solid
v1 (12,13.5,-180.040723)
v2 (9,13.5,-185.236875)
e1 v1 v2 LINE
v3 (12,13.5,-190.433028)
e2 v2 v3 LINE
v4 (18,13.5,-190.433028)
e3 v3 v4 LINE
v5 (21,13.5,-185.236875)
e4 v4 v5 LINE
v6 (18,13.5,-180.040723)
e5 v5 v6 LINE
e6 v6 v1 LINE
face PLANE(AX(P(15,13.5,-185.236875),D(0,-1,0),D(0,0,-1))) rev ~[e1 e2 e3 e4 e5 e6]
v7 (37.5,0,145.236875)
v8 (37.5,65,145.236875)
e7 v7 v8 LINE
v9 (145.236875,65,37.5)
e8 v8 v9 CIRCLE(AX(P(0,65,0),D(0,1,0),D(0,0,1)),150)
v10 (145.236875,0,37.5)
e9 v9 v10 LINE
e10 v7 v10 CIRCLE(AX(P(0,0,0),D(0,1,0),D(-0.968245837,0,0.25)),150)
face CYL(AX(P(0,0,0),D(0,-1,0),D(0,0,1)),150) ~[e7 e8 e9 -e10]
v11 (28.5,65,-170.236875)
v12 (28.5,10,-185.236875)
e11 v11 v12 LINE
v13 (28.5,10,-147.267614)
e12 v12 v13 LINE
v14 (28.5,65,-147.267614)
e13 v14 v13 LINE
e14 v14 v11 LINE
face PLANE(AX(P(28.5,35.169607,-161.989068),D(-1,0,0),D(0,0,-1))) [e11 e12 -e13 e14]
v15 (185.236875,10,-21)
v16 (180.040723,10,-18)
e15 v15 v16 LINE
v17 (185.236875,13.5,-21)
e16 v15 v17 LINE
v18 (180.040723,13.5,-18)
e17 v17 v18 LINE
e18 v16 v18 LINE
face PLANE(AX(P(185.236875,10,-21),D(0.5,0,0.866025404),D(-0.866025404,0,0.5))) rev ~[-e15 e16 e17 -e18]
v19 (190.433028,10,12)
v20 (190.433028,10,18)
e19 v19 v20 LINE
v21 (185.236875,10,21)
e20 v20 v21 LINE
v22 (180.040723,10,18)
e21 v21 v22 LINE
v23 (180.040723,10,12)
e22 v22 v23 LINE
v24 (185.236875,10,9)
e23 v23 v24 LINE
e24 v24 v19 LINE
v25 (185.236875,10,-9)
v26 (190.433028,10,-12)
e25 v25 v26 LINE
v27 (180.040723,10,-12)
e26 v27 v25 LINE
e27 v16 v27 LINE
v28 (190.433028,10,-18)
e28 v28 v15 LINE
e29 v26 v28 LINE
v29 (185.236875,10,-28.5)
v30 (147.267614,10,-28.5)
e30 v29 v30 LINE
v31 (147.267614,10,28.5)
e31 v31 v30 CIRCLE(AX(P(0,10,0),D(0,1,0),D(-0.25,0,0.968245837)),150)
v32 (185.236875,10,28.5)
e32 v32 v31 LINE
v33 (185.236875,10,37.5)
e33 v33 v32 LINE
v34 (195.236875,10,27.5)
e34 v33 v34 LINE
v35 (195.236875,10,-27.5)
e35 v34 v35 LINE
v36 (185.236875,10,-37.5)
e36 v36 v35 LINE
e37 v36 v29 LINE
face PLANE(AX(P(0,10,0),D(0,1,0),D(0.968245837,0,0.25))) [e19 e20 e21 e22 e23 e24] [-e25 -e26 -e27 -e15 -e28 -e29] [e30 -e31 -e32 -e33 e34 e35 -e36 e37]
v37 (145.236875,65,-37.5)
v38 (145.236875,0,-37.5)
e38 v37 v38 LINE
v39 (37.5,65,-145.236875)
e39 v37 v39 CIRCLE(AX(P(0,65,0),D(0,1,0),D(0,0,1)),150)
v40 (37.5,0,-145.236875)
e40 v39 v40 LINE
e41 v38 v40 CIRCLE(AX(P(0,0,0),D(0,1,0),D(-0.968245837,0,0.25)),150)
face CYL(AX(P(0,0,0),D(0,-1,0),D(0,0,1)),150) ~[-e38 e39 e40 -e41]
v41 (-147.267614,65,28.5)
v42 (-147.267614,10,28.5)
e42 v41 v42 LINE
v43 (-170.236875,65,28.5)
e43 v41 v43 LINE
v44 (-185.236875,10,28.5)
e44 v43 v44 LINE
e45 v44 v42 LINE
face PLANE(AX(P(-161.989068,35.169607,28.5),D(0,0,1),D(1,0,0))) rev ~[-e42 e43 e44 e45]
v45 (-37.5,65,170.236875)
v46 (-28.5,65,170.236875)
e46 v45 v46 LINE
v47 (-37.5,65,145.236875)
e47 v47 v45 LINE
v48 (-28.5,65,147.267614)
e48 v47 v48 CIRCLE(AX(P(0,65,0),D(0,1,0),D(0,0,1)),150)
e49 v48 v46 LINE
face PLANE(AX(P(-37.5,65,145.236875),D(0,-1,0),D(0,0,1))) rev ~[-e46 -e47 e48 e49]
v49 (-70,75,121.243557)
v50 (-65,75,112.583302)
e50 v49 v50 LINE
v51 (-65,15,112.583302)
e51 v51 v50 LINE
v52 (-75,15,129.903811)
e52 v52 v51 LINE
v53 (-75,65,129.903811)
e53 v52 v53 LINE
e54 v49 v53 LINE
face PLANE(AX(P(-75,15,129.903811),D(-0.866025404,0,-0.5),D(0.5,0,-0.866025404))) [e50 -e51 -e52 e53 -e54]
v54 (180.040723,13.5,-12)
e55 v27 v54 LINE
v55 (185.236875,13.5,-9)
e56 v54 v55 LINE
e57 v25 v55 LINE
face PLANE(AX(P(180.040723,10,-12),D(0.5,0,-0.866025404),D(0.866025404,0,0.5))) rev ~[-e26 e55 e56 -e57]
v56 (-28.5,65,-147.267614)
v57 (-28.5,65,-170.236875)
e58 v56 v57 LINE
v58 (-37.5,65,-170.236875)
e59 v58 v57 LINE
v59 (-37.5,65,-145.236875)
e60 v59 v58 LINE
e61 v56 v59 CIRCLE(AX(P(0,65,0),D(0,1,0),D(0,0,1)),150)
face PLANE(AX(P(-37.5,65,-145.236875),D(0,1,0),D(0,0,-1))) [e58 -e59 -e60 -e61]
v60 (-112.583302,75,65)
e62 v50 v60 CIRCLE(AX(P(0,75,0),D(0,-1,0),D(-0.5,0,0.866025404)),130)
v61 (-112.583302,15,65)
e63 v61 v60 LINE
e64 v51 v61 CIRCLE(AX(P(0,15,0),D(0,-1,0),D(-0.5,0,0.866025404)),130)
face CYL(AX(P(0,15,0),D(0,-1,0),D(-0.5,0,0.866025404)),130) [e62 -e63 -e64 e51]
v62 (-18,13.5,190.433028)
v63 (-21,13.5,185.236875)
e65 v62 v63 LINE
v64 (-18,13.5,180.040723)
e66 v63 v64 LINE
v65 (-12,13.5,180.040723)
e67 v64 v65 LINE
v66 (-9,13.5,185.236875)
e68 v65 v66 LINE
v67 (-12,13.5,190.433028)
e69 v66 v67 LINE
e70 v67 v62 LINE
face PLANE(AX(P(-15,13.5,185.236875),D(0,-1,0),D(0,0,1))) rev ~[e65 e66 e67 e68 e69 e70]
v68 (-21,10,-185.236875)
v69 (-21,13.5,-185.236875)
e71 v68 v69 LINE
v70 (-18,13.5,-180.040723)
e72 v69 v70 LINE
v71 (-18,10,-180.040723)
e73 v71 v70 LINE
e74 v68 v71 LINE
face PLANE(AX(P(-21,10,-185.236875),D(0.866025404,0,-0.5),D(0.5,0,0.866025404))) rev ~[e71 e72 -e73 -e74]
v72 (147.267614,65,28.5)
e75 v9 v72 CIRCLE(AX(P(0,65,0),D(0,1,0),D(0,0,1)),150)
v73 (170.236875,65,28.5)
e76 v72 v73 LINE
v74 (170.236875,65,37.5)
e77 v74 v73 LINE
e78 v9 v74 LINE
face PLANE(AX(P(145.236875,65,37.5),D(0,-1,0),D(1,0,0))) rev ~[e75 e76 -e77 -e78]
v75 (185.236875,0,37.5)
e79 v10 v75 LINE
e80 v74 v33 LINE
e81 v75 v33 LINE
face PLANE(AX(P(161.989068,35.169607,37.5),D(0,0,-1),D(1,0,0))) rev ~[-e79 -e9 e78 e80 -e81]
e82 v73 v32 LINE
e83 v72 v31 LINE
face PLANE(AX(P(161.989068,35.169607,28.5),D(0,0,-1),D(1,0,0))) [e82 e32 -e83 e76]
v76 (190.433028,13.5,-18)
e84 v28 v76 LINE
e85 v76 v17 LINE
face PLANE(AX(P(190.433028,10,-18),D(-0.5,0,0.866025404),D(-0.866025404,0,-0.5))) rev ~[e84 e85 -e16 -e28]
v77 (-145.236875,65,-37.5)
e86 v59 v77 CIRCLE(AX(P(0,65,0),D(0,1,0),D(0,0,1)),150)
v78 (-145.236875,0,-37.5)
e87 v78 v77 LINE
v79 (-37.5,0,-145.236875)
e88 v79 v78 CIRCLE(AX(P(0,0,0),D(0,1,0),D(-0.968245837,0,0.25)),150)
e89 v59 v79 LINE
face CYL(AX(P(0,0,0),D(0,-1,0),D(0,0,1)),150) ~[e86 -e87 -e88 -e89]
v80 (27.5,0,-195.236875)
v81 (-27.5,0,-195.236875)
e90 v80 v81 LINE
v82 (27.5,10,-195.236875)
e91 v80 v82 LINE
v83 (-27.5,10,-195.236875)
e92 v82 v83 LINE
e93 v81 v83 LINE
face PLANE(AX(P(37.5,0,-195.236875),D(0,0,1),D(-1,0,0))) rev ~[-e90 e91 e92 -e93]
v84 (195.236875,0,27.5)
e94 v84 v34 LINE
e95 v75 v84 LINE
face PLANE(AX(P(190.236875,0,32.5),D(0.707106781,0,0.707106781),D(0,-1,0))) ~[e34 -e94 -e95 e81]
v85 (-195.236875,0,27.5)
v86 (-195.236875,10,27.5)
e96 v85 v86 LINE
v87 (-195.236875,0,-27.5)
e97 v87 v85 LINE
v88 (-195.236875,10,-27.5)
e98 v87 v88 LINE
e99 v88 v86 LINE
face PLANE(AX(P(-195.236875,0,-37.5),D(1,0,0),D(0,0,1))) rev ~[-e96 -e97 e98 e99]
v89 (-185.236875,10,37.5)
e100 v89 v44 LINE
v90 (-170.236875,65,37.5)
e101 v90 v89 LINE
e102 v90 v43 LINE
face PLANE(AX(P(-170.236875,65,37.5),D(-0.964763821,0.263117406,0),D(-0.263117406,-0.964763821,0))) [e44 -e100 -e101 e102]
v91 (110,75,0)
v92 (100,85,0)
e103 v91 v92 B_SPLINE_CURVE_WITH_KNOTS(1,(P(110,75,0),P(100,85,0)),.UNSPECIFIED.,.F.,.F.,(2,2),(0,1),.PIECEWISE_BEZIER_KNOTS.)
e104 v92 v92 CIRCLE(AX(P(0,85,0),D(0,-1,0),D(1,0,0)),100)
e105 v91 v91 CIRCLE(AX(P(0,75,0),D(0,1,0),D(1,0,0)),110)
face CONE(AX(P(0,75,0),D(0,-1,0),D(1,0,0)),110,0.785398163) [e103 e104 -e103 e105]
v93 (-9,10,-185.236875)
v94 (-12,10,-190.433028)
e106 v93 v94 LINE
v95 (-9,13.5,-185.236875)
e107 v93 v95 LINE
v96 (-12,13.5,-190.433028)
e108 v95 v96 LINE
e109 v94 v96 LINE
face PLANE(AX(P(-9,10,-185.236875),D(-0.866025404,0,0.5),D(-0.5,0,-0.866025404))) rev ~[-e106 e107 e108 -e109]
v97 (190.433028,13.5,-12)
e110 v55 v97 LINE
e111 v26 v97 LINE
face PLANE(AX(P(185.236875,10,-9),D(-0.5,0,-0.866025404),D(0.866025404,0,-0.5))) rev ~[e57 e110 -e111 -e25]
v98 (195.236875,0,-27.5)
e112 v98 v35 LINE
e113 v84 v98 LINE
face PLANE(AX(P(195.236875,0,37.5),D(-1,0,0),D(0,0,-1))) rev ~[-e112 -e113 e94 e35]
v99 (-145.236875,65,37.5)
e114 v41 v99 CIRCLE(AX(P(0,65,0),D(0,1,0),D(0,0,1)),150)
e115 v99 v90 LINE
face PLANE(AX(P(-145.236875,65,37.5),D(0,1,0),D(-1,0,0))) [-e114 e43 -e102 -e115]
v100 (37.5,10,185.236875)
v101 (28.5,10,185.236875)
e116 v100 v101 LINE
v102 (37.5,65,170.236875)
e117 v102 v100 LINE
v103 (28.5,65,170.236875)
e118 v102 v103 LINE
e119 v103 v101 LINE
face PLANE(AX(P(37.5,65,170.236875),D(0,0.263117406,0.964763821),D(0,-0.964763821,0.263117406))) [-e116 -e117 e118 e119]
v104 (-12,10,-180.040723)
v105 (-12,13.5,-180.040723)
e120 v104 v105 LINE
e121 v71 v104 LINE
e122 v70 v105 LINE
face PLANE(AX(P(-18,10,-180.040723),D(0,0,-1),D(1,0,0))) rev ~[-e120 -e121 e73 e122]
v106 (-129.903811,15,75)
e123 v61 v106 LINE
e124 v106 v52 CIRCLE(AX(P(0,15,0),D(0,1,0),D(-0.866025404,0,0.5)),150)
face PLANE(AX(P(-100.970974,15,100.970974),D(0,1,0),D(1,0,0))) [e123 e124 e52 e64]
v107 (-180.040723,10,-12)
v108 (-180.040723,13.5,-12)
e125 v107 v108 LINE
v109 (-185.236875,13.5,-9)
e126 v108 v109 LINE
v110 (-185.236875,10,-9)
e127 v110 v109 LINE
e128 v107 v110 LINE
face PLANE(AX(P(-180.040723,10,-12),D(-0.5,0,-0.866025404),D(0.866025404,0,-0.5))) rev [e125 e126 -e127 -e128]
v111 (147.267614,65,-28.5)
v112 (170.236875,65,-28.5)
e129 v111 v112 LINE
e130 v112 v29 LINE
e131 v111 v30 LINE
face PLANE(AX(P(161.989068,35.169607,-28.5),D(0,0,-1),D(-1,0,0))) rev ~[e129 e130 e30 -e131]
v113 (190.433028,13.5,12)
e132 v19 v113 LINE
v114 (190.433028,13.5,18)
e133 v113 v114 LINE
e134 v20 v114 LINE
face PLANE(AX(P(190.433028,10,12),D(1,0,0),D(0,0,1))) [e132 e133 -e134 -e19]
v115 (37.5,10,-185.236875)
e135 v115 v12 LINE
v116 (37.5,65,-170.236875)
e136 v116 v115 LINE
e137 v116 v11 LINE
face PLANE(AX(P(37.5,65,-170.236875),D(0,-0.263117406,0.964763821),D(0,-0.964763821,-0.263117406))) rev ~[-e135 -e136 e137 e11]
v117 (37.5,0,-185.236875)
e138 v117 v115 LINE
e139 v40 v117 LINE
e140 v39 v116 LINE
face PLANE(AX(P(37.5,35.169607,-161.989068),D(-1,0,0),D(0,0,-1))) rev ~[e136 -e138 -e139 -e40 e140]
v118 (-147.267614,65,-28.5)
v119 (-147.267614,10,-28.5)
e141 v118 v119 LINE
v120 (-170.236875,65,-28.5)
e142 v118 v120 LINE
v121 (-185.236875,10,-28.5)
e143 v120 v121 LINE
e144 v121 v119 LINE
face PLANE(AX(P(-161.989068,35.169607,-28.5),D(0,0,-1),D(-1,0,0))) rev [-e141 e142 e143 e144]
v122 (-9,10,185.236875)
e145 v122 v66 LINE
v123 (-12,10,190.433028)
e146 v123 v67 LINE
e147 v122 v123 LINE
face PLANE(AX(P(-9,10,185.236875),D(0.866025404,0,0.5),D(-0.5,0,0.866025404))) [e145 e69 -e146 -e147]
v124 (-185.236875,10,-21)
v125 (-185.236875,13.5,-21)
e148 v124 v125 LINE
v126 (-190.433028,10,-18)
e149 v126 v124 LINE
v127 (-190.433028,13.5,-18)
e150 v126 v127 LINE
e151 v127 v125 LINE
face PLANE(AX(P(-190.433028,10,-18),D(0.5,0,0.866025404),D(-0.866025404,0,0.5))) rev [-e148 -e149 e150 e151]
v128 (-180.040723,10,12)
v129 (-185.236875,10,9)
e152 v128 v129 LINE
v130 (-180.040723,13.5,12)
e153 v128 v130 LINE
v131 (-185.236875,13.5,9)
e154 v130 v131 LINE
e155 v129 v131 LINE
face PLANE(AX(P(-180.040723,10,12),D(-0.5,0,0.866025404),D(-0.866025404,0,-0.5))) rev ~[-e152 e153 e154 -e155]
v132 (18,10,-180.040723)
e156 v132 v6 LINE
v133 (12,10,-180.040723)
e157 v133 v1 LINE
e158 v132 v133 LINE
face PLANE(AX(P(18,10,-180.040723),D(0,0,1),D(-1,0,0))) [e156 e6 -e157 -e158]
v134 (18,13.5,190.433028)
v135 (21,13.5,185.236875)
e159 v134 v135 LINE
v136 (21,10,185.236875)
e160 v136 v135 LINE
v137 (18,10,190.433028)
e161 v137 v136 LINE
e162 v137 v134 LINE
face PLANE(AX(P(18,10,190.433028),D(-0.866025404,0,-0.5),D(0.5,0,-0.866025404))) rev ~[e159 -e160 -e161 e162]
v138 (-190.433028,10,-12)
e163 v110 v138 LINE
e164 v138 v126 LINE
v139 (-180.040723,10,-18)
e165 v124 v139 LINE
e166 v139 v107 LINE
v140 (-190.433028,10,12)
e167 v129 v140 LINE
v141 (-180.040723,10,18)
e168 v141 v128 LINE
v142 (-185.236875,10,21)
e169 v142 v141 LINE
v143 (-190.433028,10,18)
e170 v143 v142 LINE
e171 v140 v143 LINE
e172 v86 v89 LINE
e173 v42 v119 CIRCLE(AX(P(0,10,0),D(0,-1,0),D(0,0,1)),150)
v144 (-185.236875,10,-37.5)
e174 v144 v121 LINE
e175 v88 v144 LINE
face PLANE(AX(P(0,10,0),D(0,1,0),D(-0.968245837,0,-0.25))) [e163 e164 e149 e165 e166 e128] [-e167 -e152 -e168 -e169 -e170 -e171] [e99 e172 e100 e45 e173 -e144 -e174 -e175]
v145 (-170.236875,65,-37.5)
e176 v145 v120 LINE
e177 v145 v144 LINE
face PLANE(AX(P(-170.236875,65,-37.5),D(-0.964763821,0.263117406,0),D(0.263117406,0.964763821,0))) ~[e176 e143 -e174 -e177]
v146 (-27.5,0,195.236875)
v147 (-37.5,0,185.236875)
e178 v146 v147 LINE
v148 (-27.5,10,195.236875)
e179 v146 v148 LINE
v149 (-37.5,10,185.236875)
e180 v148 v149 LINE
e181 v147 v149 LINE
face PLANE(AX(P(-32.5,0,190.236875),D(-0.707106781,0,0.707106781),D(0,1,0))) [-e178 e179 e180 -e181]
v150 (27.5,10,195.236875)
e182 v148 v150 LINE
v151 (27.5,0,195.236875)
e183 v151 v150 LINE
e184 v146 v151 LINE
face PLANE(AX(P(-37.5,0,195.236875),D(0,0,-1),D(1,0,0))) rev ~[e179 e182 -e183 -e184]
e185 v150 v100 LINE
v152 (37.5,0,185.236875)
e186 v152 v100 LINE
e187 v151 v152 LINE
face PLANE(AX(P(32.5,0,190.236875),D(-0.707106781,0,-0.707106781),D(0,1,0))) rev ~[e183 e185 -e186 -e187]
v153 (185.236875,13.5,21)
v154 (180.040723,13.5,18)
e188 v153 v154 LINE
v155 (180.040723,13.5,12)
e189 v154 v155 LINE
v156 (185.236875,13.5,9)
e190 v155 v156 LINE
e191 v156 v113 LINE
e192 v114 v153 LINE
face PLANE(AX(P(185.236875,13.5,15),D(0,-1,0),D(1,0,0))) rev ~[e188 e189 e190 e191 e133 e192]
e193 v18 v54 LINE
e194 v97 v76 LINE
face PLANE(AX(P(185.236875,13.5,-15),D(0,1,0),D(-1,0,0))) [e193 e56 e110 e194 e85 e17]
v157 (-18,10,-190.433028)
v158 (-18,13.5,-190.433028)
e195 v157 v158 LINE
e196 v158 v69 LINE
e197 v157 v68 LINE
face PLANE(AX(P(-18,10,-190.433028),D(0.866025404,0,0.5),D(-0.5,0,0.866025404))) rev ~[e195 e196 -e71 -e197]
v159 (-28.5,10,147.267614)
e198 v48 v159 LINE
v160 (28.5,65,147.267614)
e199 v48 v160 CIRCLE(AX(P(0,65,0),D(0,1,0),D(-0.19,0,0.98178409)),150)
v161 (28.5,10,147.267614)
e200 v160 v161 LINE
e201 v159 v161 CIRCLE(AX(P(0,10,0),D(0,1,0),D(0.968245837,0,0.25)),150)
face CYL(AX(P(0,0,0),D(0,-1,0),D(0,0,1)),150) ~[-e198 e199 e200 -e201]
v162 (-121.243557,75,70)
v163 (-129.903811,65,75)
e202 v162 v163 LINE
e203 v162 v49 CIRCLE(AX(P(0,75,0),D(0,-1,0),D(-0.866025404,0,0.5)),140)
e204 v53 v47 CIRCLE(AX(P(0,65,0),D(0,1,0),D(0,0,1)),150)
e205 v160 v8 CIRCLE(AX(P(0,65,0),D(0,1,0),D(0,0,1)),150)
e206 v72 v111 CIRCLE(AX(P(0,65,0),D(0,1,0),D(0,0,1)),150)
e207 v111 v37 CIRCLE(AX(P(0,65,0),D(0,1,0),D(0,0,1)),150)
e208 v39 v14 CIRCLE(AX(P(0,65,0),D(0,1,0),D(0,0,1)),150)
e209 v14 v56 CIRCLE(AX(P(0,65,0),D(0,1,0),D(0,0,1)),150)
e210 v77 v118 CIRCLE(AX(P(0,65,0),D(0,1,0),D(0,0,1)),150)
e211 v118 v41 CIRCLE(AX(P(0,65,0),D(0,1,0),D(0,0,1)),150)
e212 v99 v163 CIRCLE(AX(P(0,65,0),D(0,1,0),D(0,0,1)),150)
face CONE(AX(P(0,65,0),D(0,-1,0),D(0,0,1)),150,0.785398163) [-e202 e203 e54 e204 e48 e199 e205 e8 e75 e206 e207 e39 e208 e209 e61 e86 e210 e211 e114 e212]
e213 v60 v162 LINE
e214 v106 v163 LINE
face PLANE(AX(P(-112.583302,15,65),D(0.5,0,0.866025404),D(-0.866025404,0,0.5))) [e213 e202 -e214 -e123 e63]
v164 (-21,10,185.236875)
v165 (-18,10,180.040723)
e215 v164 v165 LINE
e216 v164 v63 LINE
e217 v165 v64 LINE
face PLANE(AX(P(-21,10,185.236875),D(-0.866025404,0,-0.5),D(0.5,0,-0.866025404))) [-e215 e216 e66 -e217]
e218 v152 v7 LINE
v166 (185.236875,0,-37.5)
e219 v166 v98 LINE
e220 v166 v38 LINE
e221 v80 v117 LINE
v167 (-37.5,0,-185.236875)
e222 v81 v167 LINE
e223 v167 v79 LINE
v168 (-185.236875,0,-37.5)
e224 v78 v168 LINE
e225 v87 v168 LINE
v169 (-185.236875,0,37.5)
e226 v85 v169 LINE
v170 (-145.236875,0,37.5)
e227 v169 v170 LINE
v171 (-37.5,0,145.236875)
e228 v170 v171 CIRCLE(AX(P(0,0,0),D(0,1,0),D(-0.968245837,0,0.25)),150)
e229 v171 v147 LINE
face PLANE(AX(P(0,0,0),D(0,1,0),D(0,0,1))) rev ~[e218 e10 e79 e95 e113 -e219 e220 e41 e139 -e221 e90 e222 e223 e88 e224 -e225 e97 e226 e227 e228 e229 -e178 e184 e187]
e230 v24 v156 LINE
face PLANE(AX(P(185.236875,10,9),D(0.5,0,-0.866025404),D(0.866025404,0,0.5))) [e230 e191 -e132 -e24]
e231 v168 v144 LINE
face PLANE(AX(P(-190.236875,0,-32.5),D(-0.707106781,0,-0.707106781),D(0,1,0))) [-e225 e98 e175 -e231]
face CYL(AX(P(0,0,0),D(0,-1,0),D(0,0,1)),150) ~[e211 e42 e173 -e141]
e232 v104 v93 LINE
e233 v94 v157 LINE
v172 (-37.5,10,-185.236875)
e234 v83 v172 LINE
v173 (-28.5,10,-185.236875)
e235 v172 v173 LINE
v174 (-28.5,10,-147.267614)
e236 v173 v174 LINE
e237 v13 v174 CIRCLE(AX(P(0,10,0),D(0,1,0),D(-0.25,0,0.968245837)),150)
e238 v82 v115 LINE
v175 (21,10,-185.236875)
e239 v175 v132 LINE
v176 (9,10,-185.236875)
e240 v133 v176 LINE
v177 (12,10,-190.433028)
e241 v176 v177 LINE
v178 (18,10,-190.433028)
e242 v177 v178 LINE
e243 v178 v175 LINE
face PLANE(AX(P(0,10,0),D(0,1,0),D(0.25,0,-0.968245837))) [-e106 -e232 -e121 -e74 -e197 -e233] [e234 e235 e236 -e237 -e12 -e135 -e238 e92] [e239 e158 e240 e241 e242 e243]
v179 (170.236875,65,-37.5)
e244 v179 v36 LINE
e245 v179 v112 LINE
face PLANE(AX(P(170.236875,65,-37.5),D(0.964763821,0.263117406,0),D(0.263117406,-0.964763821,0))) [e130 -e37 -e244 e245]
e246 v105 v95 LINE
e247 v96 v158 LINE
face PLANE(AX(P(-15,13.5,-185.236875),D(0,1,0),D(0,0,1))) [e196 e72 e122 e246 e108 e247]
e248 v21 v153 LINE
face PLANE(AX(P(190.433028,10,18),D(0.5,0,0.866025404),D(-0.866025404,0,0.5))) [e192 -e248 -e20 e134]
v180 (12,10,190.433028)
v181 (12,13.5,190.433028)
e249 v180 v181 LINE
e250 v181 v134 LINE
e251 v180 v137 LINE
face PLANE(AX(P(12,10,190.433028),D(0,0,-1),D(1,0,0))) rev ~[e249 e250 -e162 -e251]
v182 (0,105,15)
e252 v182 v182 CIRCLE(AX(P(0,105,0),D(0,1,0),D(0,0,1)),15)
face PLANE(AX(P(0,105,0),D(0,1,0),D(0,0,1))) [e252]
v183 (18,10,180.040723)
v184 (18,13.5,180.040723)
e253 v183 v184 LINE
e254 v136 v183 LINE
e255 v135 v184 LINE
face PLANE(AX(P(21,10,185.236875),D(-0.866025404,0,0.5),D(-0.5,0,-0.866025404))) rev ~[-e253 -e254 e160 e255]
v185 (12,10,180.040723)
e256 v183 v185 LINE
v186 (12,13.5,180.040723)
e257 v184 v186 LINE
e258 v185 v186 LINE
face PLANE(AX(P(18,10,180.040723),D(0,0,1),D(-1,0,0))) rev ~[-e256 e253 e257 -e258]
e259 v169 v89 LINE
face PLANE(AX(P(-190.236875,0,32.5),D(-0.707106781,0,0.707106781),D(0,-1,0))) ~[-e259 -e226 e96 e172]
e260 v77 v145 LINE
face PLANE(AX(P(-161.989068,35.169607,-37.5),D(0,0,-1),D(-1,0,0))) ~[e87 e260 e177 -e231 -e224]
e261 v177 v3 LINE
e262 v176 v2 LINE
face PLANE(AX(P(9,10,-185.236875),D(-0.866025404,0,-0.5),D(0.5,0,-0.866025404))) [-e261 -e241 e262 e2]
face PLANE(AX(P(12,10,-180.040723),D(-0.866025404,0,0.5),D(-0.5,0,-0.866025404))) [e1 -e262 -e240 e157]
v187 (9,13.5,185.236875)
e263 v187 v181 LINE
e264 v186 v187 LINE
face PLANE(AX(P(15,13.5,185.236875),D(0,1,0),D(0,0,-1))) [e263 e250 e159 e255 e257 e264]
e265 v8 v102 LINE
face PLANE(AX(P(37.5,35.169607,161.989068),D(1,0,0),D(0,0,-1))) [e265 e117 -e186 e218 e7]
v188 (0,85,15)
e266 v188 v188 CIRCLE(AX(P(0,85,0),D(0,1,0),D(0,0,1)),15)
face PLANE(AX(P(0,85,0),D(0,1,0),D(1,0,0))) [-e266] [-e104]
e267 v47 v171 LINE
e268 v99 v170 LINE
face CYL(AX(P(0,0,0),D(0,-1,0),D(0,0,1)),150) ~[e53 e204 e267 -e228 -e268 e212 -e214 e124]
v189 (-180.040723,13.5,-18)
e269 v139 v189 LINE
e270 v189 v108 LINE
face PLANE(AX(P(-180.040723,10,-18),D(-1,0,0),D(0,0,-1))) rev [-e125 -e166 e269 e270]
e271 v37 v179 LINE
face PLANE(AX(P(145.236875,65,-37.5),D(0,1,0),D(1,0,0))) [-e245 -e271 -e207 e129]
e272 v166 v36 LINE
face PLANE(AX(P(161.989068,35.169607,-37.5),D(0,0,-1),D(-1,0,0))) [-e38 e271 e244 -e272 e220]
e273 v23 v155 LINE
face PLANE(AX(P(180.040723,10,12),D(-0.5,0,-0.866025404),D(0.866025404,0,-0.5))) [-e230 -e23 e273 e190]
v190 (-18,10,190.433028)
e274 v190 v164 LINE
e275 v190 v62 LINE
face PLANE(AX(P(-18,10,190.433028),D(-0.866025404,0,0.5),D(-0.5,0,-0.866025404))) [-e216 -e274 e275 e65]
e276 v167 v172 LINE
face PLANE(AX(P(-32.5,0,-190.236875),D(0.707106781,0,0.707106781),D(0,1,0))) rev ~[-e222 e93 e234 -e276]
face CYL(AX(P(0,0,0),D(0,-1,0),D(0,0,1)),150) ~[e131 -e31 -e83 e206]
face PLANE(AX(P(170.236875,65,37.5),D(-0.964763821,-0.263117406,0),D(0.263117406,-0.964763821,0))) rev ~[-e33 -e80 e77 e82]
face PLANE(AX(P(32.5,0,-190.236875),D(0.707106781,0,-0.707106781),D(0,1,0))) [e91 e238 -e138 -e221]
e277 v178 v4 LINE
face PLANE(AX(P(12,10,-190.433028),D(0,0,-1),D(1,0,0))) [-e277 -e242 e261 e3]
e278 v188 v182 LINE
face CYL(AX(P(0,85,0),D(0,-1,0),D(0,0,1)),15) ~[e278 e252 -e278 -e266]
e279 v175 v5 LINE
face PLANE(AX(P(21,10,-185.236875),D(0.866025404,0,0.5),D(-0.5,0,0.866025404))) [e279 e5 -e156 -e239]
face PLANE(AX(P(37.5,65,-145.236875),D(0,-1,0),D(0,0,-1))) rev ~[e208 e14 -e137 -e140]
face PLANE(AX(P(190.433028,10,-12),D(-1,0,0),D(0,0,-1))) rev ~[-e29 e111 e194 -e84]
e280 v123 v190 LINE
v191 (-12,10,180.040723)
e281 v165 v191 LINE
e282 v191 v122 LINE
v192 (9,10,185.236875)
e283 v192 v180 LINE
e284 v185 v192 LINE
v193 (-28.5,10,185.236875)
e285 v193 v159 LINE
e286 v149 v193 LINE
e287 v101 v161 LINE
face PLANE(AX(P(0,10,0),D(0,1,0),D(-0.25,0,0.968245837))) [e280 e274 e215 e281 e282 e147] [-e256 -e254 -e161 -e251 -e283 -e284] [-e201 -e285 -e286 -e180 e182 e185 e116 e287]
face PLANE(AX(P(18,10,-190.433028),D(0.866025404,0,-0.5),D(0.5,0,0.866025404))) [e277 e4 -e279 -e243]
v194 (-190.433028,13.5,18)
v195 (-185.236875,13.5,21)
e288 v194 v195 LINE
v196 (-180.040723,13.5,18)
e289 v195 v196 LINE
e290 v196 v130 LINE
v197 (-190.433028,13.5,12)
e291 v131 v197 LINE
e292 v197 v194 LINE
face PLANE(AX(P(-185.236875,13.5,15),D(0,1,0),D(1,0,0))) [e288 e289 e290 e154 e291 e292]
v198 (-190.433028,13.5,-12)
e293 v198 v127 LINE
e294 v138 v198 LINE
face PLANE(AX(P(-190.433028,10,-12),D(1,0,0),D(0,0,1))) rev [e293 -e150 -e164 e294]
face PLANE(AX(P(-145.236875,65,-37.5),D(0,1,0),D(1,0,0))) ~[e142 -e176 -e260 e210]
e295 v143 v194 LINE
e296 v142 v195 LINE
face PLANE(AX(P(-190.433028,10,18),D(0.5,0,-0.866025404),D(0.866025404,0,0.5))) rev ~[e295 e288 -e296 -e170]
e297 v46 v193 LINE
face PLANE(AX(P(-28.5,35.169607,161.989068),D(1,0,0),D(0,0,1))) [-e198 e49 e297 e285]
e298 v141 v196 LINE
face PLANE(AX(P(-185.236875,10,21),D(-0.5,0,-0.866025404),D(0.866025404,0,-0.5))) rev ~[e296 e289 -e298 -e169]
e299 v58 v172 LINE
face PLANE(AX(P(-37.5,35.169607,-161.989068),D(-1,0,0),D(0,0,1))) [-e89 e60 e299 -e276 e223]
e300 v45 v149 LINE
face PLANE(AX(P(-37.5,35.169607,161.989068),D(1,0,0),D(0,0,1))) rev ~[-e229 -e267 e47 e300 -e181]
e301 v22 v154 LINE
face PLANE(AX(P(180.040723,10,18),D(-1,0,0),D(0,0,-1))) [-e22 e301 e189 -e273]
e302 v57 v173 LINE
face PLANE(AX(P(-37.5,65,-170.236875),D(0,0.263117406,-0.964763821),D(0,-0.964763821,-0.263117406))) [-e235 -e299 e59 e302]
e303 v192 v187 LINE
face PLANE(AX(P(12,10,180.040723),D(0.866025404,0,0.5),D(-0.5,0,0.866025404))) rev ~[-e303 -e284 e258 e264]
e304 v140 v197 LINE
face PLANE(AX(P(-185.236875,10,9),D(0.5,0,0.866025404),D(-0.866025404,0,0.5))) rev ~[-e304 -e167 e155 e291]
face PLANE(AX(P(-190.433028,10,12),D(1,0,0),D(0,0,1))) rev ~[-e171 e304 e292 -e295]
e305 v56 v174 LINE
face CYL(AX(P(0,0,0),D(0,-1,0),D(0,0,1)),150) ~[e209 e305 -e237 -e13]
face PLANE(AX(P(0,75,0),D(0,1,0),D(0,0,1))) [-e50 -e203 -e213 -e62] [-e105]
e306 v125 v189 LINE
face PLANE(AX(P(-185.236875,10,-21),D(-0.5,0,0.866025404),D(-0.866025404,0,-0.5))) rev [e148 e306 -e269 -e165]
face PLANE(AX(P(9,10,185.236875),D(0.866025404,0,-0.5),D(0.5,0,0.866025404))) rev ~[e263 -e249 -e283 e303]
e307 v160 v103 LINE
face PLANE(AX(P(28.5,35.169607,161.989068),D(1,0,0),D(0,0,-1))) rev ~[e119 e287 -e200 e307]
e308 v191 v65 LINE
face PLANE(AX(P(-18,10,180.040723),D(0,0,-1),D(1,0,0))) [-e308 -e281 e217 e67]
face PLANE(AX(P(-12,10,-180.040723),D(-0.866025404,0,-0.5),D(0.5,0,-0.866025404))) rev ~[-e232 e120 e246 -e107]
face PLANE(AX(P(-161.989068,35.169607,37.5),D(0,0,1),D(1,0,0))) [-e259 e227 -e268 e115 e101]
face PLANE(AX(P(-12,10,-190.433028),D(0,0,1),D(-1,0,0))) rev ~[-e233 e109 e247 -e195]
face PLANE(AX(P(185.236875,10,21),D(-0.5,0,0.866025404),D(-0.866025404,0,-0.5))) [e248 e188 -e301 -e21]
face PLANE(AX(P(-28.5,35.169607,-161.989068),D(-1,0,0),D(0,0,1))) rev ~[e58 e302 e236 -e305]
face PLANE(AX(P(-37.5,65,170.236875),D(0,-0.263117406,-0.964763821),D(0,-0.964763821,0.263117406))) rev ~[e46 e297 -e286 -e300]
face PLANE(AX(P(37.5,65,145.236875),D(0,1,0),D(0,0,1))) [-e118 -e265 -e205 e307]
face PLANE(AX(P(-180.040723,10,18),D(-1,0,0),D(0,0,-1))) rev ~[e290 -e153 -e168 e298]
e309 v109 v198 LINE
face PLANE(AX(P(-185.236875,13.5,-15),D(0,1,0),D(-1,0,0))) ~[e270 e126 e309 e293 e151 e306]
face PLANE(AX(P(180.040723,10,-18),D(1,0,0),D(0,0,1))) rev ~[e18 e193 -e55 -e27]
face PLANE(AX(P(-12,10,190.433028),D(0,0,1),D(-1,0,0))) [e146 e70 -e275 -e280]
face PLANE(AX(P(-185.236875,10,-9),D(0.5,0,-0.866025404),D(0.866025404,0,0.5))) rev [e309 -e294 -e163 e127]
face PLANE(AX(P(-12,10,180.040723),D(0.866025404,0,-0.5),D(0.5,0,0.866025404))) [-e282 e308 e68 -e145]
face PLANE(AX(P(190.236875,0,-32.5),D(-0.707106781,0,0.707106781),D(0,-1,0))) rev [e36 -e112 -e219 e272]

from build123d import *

# Parameters (mm, degrees)
SKETCH1_R                    = 150
BOSS_EXTRUDE1_DEPTH          = 75
CHAMFER1_SIZE                = 10
BOSS_EXTRUDE2_START          = -75
SKETCH2_R                    = 150
BOSS_EXTRUDE2_DEPTH          = 10
CHAMFER2_SIZE                = 10
CHAMFER3_SIZE                = 10
BOSS_EXTRUDE3_DEPTH          = 9
BOSS_EXTRUDE4_DEPTH          = 3.5
CIRPATTERN1_COUNT            = 4
CIRPATTERN1_COPY_1_DEPTH     = 9
CIRPATTERN1_COPY_2_DEPTH     = 9
CIRPATTERN1_COPY_3_DEPTH     = 9
CIRPATTERN1_COPY_4_DEPTH     = 3.5
CIRPATTERN1_COPY_5_DEPTH     = 3.5
CIRPATTERN1_COPY_6_DEPTH     = 3.5
CHAMFER2_OF_CIRPATTERN1_SIZE = 10
CHAMFER3_OF_CIRPATTERN1_SIZE = 10
CUT_EXTRUDE1_START           = -60
CUT_EXTRUDE1_DEPTH           = 60
SKETCH7_R                    = 110
BOSS_EXTRUDE5_DEPTH          = 10
BOSS_EXTRUDE5_TAPER          = 45
SKETCH8_R                    = 15
BOSS_EXTRUDE6_DEPTH          = 20


with BuildPart() as part:
    # Sketch1 → Boss-Extrude1 (new body)
    with BuildSketch(Plane(origin=(0, 0, 0), x_dir=(1, 0, 0), z_dir=(0, 1, 0))):
        with Locations(Location((0, 0, 0), (0, 0, 270))):
            Circle(SKETCH1_R)
    extrude(amount=BOSS_EXTRUDE1_DEPTH)

    # Chamfer1
    chamfer1_edges = [part.edges().sort_by_distance(p)[0] for p in [
        (0, 75, -150),
    ]]
    chamfer(chamfer1_edges, length=CHAMFER1_SIZE)

    # Sketch2 → Boss-Extrude2 (add)
    with BuildSketch(Plane(origin=(0, 75, 0), x_dir=(1, 0, 0), z_dir=(0, 1, 0)).offset(BOSS_EXTRUDE2_START)):
        with Locations(Location((0, 0, 0), (0, 0, 165.522487814))):
            Circle(SKETCH2_R)
        with BuildLine():
            Line((-145.236875483, 37.5), (-195.236875483, 37.5))
            Line((-195.236875483, 37.5), (-195.236875483, -37.5))
            Line((-195.236875483, -37.5), (-145.236875483, -37.5))
            ThreePointArc((-145.236875483, -37.5), (-150, 0), (-145.236875483, 37.5))
        make_face()
    boss_extrude2 = extrude(amount=BOSS_EXTRUDE2_DEPTH)

    # Chamfer2
    chamfer2_edges = [part.edges().sort_by_distance(p)[0] for p in [
        (-195.236875483, 5, 37.5),
    ]]
    chamfer(chamfer2_edges, length=CHAMFER2_SIZE)

    # Chamfer3
    chamfer3_edges = [part.edges().sort_by_distance(p)[0] for p in [
        (-195.236875483, 5, -37.5),
    ]]
    chamfer(chamfer3_edges, length=CHAMFER3_SIZE)

    # Sketch3 → Boss-Extrude3 (add)
    with BuildSketch(Plane.XY.offset(37.5)):
        Polygon((-185.236875483, 10), (-145.236875483, 10), (-145.236875483, 65), (-170.236875483, 65), align=None)
    boss_extrude3 = extrude(amount=-BOSS_EXTRUDE3_DEPTH)

    # Sketch4 → Boss-Extrude4 (add)
    with BuildSketch(Plane(origin=(0, 10, 0), x_dir=(1, 0, 0), z_dir=(0, 1, 0))):
        Polygon((-180.04072306, -12), (-185.236875483, -9), (-190.433027905, -12), (-190.433027905, -18), (-185.236875483, -21), (-180.04072306, -18), align=None)
    boss_extrude4 = extrude(amount=BOSS_EXTRUDE4_DEPTH)

    # Mirror1: Boss-Extrude3, Boss-Extrude4 across plane
    add(boss_extrude3.mirror(Plane.XY))
    add(boss_extrude4.mirror(Plane.XY))

    # CirPattern1: Boss-Extrude2, Boss-Extrude3, Boss-Extrude4 ×4 about axis
    cirpattern1_axis = Axis((0, 0, 0), (0, 1, 0))
    add([boss_extrude2.rotate(cirpattern1_axis, i * 360 / CIRPATTERN1_COUNT) for i in range(1, CIRPATTERN1_COUNT)])
    add([boss_extrude3.rotate(cirpattern1_axis, i * 360 / CIRPATTERN1_COUNT) for i in range(1, CIRPATTERN1_COUNT)])
    add([boss_extrude4.rotate(cirpattern1_axis, i * 360 / CIRPATTERN1_COUNT) for i in range(1, CIRPATTERN1_COUNT)])

    # CirPattern1 copy 1 sketch → CirPattern1 copy 1 (add)
    with BuildSketch(Plane(origin=(-37.5, 0, 0), x_dir=(0, 0, -1), z_dir=(-1, 0, 0))):
        Polygon((-185.236875483, -10), (-145.236875483, -10), (-145.236875483, -65), (-170.236875483, -65), align=None)
    extrude(amount=-CIRPATTERN1_COPY_1_DEPTH)

    # CirPattern1 copy 2 sketch → CirPattern1 copy 2 (add)
    with BuildSketch(Plane(origin=(0, 0, 37.5), x_dir=(-1, 0, 0), z_dir=(0, 0, 1))):
        Polygon((-185.236875483, -10), (-145.236875483, -10), (-145.236875483, -65), (-170.236875483, -65), align=None)
    extrude(amount=-CIRPATTERN1_COPY_2_DEPTH)

    # CirPattern1 copy 3 sketch → CirPattern1 copy 3 (add)
    with BuildSketch(Plane(origin=(37.5, 0, 0), x_dir=(0, 0, 1), z_dir=(1, 0, 0))):
        Polygon((-185.236875483, -10), (-145.236875483, -10), (-145.236875483, -65), (-170.236875483, -65), align=None)
    extrude(amount=-CIRPATTERN1_COPY_3_DEPTH)

    # CirPattern1 copy 4 sketch → CirPattern1 copy 4 (add)
    with BuildSketch(Plane(origin=(0, 10, 0), x_dir=(0, 0, -1), z_dir=(0, 1, 0))):
        Polygon((-180.04072306, 12), (-185.236875483, 9), (-190.433027905, 12), (-190.433027905, 18), (-185.236875483, 21), (-180.04072306, 18), align=None)
    extrude(amount=CIRPATTERN1_COPY_4_DEPTH)

    # CirPattern1 copy 5 sketch → CirPattern1 copy 5 (add)
    with BuildSketch(Plane(origin=(0, 10, 0), x_dir=(-1, 0, 0), z_dir=(0, 1, 0))):
        Polygon((-180.04072306, 12), (-185.236875483, 9), (-190.433027905, 12), (-190.433027905, 18), (-185.236875483, 21), (-180.04072306, 18), align=None)
    extrude(amount=CIRPATTERN1_COPY_5_DEPTH)

    # CirPattern1 copy 6 sketch → CirPattern1 copy 6 (add)
    with BuildSketch(Plane.ZX.offset(10)):
        Polygon((-180.04072306, 12), (-185.236875483, 9), (-190.433027905, 12), (-190.433027905, 18), (-185.236875483, 21), (-180.04072306, 18), align=None)
    extrude(amount=CIRPATTERN1_COPY_6_DEPTH)

    # Chamfer2 of CirPattern1
    chamfer2_of_cirpattern1_edges = [part.edges().sort_by_distance(p)[0] for p in [
        (37.5, 5, 195.236875483),
        (195.236875483, 5, -37.5),
        (-37.5, 5, -195.236875483),
    ]]
    chamfer(chamfer2_of_cirpattern1_edges, length=CHAMFER2_OF_CIRPATTERN1_SIZE)

    # Chamfer3 of CirPattern1
    chamfer3_of_cirpattern1_edges = [part.edges().sort_by_distance(p)[0] for p in [
        (-37.5, 5, 195.236875483),
        (195.236875483, 5, 37.5),
        (37.5, 5, -195.236875483),
    ]]
    chamfer(chamfer3_of_cirpattern1_edges, length=CHAMFER3_OF_CIRPATTERN1_SIZE)

    # Sketch5 → Cut-Extrude1 (cut)
    with BuildSketch(Plane(origin=(0, 75, 0), x_dir=(1, 0, 0), z_dir=(0, 1, 0)).offset(CUT_EXTRUDE1_START)):
        with BuildLine():
            ThreePointArc((-70, -121.24355653), (-98.994949366, -98.994949366), (-121.24355653, -70))
            Line((-121.24355653, -70), (-129.903810568, -75))
            ThreePointArc((-129.903810568, -75), (-106.066017178, -106.066017178), (-75, -129.903810568))
            Line((-75, -129.903810568), (-70, -121.24355653))
        make_face()
        with BuildLine():
            ThreePointArc((-65, -112.583302492), (-91.923881554, -91.923881554), (-112.583302492, -65))
            Line((-112.583302492, -65), (-121.24355653, -70))
            ThreePointArc((-121.24355653, -70), (-98.994949366, -98.994949366), (-70, -121.24355653))
            Line((-70, -121.24355653), (-65, -112.583302492))
        make_face()
    extrude(amount=CUT_EXTRUDE1_DEPTH, mode=Mode.SUBTRACT)

    # Sketch7 → Boss-Extrude5 (add)
    with BuildSketch(Plane(origin=(0, 75, 0), x_dir=(1, 0, 0), z_dir=(0, 1, 0))):
        Circle(SKETCH7_R)
    extrude(amount=BOSS_EXTRUDE5_DEPTH, taper=BOSS_EXTRUDE5_TAPER)

    # Sketch8 → Boss-Extrude6 (add)
    with BuildSketch(Plane(origin=(0, 85, 0), x_dir=(1, 0, 0), z_dir=(0, 1, 0))):
        with Locations(Location((0, 0, 0), (0, 0, 270))):
            Circle(SKETCH8_R)
    extrude(amount=BOSS_EXTRUDE6_DEPTH)


solid = part.part
